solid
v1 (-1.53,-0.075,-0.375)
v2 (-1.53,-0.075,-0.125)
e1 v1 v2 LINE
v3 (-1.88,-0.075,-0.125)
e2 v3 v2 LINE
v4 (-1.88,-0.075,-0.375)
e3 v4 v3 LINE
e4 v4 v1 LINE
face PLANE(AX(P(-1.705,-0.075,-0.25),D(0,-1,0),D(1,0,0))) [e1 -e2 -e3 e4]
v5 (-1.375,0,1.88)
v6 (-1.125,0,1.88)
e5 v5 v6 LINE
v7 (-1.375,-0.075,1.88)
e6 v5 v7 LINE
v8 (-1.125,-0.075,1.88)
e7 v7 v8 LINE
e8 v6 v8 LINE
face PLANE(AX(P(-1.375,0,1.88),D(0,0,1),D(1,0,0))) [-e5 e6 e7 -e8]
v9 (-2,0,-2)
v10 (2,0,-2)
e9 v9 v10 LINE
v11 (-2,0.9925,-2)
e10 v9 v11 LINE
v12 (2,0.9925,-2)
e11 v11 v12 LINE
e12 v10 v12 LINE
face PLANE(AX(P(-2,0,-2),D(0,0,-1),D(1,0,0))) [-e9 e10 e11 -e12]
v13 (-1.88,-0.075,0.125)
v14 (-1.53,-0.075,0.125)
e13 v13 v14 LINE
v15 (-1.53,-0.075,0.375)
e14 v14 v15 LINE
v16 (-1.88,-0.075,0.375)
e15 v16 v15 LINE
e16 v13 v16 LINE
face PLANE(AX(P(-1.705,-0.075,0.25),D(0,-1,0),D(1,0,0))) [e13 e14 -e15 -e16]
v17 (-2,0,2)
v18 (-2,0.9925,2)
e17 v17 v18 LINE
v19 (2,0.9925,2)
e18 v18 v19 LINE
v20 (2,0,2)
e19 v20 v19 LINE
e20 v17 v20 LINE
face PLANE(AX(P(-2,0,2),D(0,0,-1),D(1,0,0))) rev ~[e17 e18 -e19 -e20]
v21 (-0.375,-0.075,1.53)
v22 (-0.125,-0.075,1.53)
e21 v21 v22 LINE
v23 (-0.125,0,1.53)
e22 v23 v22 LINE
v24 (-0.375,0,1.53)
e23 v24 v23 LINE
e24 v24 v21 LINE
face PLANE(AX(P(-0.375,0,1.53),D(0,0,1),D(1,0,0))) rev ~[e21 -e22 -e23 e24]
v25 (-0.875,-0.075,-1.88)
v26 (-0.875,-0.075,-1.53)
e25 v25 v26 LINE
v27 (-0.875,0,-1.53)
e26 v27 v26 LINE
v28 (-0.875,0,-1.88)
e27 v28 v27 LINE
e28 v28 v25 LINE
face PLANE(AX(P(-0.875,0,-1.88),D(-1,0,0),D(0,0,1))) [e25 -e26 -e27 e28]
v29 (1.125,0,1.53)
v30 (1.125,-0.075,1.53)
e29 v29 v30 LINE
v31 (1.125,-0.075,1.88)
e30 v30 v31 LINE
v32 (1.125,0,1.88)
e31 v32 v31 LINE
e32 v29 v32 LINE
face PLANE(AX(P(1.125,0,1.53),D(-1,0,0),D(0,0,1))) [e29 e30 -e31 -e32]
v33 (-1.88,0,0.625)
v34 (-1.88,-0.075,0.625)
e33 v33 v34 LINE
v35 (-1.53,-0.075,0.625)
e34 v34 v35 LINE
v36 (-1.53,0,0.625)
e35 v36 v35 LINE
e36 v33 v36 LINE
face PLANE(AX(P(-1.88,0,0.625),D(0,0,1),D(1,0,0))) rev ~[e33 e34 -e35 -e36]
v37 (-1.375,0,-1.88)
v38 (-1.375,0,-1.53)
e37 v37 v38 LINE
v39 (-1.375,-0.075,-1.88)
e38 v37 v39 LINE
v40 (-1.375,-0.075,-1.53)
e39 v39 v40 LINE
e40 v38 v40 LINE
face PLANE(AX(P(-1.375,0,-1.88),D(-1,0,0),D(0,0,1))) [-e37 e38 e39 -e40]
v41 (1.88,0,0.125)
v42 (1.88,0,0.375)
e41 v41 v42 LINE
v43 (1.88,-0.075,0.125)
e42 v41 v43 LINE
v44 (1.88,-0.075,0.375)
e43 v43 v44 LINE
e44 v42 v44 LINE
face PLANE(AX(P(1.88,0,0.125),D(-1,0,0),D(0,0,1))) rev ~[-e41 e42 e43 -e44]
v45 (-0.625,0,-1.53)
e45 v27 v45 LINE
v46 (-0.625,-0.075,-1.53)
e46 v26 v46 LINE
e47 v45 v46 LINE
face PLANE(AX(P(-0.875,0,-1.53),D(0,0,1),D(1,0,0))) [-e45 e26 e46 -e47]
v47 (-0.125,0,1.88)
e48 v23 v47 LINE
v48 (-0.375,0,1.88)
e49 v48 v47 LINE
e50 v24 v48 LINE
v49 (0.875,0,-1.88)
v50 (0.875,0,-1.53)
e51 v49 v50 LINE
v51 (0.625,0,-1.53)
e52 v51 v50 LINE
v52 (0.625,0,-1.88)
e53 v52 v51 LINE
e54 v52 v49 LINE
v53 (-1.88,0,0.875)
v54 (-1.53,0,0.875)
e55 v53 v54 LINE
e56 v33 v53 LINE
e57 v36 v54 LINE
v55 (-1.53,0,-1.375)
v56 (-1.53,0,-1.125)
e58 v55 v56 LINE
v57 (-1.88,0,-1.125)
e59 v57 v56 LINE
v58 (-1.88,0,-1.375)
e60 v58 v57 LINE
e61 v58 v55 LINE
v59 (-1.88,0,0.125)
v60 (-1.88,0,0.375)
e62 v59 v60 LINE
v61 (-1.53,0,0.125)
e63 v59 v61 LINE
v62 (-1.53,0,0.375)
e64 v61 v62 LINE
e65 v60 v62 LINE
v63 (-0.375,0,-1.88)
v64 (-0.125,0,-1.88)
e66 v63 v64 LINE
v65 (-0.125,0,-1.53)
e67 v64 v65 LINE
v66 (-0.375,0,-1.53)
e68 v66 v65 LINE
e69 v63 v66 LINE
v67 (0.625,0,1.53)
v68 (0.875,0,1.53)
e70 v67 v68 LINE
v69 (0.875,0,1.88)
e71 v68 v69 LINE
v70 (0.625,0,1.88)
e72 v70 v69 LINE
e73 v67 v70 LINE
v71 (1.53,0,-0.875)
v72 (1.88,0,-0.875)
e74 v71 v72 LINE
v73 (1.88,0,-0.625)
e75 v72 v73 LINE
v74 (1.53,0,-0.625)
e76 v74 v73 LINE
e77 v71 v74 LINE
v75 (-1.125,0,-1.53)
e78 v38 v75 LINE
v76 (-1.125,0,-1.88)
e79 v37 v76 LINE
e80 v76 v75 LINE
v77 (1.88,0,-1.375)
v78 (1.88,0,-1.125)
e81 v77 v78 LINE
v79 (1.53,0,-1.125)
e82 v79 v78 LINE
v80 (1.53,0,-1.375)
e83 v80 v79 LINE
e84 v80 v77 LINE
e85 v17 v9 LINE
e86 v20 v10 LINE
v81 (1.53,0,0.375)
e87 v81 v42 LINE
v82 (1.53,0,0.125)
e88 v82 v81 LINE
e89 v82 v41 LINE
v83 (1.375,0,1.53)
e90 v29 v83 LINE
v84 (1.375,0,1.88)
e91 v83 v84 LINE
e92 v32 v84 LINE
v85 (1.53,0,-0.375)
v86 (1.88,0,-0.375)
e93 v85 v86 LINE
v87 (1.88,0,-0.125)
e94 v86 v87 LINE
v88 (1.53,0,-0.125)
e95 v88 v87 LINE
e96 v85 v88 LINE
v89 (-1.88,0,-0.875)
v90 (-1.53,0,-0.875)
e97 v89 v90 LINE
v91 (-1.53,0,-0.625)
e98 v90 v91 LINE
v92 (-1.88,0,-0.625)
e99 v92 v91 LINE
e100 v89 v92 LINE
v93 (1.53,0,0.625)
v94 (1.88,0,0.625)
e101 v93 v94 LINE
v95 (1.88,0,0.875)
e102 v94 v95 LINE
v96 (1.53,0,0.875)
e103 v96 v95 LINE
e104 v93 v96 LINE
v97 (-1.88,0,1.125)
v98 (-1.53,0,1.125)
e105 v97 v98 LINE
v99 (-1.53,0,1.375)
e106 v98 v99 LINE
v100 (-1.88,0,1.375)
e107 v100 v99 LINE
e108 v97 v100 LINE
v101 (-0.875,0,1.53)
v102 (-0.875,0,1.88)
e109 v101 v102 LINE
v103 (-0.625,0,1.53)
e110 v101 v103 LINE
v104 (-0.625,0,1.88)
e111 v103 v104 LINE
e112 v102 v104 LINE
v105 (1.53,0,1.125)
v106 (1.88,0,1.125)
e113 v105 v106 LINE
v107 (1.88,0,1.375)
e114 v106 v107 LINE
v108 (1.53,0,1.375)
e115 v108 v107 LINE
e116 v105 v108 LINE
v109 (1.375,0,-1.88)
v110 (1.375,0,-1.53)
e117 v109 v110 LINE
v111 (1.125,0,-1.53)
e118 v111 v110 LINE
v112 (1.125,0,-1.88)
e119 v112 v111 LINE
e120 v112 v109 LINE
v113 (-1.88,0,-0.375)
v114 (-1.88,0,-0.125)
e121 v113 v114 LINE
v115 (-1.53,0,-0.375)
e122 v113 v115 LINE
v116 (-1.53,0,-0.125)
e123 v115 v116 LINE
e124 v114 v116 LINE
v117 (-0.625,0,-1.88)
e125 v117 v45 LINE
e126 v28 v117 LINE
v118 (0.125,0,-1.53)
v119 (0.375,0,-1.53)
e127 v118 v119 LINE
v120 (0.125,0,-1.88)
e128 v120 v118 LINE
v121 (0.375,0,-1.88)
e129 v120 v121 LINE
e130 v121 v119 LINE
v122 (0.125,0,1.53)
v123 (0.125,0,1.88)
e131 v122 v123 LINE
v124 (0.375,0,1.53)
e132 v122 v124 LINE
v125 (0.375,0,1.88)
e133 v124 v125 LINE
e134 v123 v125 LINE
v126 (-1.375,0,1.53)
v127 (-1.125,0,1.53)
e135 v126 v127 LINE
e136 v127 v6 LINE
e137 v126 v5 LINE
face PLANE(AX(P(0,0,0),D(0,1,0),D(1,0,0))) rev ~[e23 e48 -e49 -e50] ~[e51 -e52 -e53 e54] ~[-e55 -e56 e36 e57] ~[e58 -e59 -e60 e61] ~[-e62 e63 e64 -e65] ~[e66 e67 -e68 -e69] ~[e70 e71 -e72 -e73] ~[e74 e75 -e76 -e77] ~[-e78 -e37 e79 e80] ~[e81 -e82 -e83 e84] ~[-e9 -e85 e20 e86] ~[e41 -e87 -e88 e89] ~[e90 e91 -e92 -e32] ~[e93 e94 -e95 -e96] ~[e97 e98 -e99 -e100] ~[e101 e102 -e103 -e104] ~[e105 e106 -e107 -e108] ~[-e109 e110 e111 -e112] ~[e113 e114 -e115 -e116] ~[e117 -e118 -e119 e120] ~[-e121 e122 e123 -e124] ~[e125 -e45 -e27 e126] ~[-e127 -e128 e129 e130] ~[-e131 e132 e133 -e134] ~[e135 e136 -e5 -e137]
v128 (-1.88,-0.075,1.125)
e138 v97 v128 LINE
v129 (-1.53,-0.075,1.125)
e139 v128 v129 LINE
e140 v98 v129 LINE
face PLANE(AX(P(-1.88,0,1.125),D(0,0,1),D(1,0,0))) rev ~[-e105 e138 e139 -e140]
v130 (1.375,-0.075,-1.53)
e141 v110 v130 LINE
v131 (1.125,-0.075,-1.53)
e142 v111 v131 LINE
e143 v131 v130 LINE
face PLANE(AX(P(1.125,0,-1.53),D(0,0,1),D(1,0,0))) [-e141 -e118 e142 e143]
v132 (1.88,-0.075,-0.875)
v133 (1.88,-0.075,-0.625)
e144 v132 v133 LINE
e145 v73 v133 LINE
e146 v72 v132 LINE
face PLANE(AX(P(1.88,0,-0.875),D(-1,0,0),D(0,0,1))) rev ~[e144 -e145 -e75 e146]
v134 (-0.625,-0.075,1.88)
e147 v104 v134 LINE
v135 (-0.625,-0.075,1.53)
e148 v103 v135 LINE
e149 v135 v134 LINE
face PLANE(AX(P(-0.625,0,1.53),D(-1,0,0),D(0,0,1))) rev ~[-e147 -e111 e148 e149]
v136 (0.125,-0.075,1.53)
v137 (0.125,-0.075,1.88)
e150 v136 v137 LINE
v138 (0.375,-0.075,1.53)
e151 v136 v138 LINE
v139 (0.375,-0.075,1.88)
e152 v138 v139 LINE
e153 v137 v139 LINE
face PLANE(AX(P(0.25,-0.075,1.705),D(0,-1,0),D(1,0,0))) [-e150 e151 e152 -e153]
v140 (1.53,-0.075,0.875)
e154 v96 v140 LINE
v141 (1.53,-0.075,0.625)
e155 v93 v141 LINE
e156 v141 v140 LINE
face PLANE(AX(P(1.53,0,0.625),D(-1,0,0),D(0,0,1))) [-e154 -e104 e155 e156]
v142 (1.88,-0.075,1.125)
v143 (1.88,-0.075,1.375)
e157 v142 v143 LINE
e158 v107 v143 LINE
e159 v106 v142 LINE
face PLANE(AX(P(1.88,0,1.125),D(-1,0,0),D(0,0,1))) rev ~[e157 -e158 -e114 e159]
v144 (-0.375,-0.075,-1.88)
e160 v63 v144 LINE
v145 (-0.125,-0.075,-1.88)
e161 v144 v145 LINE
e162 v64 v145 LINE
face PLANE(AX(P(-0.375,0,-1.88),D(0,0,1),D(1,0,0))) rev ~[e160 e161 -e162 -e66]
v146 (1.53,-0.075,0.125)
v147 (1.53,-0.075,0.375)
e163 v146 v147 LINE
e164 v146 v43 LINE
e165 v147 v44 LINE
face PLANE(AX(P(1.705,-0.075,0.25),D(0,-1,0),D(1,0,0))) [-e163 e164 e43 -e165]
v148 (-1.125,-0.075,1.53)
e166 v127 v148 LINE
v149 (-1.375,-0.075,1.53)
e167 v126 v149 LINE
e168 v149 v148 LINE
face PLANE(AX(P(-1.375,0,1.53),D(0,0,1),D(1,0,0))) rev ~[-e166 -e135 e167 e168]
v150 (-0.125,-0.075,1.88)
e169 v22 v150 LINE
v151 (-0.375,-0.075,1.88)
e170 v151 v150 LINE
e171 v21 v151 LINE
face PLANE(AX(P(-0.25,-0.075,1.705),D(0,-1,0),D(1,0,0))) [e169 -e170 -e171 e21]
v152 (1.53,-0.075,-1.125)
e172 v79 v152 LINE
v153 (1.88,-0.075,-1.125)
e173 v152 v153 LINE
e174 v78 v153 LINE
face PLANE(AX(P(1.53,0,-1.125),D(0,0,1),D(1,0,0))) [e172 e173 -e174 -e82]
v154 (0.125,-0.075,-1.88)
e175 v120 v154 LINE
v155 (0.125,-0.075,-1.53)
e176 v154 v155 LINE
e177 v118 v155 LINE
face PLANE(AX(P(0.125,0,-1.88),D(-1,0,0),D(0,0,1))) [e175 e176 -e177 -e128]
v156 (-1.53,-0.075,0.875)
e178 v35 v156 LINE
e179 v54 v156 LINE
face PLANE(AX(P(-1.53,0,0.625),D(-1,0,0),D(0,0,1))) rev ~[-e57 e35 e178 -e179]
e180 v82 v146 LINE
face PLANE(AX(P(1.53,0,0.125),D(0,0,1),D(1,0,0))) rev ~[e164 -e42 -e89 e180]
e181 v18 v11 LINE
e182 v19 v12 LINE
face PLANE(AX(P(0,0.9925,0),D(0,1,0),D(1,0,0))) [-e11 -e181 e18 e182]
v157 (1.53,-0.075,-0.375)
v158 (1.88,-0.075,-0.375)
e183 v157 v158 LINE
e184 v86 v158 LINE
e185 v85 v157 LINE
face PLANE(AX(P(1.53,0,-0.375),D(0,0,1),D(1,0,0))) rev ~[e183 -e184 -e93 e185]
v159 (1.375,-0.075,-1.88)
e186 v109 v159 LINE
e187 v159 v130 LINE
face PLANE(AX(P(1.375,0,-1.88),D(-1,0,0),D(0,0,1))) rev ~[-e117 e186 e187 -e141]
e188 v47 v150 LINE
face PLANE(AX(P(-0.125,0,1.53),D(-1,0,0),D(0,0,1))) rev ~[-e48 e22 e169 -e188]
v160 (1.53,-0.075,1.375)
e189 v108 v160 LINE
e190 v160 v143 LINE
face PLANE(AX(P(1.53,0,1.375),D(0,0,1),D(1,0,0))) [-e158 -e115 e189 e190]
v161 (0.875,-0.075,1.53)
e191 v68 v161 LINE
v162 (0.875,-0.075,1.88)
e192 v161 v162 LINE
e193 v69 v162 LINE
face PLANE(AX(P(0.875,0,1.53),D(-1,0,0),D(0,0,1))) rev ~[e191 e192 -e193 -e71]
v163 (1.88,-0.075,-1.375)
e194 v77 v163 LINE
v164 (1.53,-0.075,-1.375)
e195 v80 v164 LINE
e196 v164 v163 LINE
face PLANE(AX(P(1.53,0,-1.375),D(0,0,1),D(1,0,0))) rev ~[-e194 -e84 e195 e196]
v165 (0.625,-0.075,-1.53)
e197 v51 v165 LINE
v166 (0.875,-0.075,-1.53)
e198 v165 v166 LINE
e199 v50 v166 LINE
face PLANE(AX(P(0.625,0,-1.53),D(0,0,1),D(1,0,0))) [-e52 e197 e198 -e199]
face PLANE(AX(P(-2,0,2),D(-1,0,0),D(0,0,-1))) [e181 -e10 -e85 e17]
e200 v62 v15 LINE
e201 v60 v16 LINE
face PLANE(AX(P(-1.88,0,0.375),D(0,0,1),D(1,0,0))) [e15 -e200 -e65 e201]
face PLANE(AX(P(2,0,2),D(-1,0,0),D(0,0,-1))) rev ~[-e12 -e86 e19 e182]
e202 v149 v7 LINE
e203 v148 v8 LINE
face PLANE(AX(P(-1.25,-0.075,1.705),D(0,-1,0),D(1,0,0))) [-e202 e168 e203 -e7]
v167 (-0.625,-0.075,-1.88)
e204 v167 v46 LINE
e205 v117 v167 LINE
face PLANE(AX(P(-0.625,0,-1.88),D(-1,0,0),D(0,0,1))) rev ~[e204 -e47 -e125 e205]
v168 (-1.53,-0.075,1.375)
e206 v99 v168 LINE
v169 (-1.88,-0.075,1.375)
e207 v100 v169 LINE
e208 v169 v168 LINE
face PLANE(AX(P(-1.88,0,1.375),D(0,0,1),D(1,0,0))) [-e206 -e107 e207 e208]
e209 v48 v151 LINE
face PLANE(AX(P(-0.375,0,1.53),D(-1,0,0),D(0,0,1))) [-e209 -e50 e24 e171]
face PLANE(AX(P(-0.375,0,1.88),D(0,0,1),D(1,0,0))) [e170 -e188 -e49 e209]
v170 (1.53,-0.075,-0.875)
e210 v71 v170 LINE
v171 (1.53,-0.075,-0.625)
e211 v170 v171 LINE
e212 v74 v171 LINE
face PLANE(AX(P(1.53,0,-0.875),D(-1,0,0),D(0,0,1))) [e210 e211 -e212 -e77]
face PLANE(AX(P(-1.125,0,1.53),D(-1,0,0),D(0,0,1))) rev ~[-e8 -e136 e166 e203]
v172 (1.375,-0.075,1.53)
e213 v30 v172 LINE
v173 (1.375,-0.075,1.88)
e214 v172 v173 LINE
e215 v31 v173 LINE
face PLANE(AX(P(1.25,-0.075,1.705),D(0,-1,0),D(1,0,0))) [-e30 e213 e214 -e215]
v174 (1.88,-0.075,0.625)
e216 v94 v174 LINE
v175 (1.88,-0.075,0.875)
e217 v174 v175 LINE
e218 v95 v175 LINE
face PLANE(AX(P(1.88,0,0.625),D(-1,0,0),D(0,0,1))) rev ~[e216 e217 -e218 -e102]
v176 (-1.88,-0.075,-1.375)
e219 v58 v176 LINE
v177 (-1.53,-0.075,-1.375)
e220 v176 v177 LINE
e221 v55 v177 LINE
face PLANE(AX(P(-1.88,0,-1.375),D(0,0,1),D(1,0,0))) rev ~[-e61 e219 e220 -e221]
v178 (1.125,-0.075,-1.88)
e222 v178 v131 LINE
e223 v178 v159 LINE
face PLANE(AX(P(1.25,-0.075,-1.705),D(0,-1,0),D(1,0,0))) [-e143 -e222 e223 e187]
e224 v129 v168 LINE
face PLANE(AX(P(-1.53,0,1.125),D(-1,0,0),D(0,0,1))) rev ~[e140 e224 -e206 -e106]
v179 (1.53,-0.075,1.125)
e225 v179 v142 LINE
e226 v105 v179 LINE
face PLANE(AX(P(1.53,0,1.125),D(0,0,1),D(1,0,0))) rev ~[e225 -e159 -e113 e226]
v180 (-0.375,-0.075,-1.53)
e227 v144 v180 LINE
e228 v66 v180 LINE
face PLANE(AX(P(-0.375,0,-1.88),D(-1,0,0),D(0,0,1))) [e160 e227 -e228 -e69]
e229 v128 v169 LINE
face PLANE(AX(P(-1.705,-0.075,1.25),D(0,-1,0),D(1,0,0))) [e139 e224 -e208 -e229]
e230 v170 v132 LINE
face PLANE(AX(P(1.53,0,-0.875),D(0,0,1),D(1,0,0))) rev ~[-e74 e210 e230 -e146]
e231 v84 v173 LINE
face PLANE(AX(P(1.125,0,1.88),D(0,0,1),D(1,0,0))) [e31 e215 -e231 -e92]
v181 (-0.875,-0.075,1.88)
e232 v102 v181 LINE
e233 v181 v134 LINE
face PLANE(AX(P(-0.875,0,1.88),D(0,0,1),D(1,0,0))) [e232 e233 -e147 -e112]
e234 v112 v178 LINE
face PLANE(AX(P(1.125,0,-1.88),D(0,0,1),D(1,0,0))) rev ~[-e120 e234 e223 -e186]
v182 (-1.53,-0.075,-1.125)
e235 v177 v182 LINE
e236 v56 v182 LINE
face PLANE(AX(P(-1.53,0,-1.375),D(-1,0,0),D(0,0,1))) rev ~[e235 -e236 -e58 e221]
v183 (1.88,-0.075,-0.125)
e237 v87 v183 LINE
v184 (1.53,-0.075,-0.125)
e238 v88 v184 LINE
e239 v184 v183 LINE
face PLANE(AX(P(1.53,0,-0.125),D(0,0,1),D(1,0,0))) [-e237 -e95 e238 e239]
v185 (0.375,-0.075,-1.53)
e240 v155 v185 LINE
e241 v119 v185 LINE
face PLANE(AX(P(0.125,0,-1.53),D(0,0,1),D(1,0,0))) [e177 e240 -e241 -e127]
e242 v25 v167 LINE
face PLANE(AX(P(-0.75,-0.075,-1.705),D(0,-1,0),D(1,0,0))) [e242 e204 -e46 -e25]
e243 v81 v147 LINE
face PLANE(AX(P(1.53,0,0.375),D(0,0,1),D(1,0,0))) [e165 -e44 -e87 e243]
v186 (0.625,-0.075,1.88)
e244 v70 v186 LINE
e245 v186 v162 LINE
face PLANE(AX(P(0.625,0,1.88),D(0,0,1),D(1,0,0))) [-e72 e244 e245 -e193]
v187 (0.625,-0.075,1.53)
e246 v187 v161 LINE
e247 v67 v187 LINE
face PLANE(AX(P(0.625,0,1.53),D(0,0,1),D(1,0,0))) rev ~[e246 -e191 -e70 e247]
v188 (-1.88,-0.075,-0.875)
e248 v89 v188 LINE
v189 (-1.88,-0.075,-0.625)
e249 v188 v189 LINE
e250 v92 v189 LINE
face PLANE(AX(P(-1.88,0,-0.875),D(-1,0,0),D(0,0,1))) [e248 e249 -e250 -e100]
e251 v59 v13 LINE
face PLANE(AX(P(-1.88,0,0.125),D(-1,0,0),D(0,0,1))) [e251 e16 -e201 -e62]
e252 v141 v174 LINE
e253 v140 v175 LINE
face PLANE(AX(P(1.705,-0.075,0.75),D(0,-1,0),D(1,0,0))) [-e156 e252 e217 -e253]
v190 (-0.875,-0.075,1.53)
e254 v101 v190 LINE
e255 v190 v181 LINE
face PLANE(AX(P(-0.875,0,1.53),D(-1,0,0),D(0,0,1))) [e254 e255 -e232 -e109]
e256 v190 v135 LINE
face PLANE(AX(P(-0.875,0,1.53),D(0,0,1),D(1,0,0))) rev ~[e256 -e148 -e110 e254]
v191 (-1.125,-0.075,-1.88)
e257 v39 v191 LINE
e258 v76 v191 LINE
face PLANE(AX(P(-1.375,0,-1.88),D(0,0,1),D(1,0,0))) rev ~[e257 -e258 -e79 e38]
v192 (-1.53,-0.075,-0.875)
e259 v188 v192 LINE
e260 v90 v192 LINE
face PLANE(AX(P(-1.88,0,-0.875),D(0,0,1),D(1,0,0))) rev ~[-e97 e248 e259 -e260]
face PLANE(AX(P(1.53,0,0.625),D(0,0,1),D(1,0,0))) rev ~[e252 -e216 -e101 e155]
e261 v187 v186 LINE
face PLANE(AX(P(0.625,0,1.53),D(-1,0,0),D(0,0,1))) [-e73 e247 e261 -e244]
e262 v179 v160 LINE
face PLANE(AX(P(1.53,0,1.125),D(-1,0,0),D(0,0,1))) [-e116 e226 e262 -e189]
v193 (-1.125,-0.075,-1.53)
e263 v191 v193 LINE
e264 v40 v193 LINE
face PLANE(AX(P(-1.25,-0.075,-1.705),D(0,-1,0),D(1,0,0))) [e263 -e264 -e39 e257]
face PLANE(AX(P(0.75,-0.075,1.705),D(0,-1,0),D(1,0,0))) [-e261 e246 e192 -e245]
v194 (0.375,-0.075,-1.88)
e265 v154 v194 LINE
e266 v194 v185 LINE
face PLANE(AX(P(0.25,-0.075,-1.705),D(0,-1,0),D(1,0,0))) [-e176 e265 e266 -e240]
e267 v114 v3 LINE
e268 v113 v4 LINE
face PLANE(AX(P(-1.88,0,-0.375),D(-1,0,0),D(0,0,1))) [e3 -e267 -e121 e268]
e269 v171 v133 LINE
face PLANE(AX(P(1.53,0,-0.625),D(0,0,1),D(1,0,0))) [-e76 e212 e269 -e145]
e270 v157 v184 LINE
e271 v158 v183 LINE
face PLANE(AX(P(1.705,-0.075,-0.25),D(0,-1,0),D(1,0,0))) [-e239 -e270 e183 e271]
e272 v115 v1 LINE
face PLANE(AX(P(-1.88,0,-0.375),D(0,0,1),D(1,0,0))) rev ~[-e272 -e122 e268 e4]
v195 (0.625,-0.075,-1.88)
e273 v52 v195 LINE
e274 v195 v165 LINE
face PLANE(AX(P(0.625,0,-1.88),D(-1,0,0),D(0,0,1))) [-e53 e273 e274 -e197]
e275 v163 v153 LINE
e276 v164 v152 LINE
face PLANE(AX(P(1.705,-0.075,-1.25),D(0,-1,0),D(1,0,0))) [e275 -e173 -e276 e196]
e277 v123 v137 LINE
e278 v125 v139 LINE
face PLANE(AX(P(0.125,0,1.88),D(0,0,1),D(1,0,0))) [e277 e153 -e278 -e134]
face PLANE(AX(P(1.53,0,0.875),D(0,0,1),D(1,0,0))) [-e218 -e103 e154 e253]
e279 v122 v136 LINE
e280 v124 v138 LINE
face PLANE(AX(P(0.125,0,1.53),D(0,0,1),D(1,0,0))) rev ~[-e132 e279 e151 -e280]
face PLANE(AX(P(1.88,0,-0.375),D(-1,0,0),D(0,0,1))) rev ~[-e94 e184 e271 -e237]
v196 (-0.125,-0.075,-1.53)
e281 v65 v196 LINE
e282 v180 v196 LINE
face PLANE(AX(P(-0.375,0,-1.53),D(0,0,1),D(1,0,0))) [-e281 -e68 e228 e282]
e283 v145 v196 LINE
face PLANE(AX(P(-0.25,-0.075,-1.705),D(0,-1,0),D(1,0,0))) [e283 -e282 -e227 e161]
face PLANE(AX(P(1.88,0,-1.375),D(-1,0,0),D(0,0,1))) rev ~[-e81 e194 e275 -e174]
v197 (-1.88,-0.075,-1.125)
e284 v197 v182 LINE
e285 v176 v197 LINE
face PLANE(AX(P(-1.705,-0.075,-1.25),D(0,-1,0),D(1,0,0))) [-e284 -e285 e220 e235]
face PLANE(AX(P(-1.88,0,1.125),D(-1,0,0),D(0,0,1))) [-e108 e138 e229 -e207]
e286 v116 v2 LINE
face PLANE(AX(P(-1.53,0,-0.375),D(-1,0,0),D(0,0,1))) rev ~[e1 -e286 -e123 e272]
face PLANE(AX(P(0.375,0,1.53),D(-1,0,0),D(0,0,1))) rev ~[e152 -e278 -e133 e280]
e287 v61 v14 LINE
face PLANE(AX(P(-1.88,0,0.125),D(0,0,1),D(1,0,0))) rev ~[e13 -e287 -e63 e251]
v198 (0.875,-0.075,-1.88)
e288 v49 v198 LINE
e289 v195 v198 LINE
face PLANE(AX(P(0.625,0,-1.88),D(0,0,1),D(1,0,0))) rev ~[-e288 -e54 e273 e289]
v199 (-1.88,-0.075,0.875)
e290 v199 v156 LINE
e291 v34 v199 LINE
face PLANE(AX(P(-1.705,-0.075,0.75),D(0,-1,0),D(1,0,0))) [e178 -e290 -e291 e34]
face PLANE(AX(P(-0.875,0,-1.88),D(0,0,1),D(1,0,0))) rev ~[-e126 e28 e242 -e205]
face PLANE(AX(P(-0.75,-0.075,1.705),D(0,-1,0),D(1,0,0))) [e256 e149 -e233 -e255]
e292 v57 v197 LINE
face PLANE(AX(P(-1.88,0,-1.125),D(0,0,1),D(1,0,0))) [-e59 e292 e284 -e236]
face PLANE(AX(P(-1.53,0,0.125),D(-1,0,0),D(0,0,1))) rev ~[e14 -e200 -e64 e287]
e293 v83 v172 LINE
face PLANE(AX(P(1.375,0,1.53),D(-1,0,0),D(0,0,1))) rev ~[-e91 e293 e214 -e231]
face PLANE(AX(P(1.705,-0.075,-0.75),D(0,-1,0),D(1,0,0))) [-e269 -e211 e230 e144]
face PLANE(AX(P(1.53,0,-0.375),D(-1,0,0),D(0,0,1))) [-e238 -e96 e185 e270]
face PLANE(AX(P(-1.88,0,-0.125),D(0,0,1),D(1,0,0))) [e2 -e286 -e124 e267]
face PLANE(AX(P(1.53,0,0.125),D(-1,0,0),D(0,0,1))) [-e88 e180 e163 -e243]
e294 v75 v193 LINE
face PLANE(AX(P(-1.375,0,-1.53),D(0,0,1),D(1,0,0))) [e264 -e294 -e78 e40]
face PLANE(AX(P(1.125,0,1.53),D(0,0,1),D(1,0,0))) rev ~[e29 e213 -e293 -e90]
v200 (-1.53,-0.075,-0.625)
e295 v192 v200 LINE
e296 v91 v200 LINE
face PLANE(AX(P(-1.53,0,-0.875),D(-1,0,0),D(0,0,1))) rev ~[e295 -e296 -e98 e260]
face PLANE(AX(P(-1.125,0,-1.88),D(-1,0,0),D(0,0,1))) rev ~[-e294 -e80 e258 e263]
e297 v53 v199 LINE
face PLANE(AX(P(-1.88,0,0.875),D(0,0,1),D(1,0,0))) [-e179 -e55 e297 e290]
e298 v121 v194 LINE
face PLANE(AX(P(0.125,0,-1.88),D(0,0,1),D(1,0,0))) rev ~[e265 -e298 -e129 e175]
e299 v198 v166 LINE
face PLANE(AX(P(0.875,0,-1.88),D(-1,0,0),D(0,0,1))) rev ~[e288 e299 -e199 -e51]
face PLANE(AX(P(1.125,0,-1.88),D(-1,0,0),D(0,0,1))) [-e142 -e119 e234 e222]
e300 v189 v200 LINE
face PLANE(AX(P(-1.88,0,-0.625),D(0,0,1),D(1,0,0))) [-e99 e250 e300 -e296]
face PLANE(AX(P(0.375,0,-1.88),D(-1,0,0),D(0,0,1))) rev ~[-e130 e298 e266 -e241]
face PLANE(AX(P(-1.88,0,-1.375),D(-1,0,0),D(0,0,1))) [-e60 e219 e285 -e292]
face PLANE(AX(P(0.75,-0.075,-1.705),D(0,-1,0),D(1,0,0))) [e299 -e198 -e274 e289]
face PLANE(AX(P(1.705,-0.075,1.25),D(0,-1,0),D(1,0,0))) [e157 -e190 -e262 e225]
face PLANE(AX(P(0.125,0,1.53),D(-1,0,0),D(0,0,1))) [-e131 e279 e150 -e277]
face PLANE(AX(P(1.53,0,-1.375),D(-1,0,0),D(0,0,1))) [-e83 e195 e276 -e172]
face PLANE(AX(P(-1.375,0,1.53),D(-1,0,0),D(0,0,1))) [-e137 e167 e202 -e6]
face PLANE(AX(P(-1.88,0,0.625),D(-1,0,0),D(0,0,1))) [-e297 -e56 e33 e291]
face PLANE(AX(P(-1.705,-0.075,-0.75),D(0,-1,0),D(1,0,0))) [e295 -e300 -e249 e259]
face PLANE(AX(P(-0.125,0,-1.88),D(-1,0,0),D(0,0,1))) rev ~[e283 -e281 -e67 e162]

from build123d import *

# Parameters (mm, degrees)
SKETCH2_W           = 4
SKETCH2_H           = 4
BOSS_EXTRUDE1_DEPTH = 0.9925
SKETCH3_W           = 0.25
SKETCH3_H           = 0.35
SKETCH3_W_2         = 0.35
SKETCH3_H_2         = 0.25
BOSS_EXTRUDE2_DEPTH = 0.075


with BuildPart() as part:
    # Sketch2 → Boss-Extrude1 (new body)
    with BuildSketch(Plane(origin=(0, 0, 0), x_dir=(1, 0, 0), z_dir=(0, 1, 0))):
        Rectangle(SKETCH2_W, SKETCH2_H)
    extrude(amount=BOSS_EXTRUDE1_DEPTH)

    # Sketch3 → Boss-Extrude2 (add)
    with BuildSketch(Plane.XZ):
        with Locations((-0.75, 1.705)):
            Rectangle(SKETCH3_W, SKETCH3_H)
        with Locations((-0.25, 1.705)):
            Rectangle(SKETCH3_W, SKETCH3_H)
        with Locations((-1.25, 1.705)):
            Rectangle(SKETCH3_W, SKETCH3_H)
        with Locations((0.25, 1.705)):
            Rectangle(SKETCH3_W, SKETCH3_H)
        with Locations((0.75, 1.705)):
            Rectangle(SKETCH3_W, SKETCH3_H)
        with Locations((1.25, 1.705)):
            Rectangle(SKETCH3_W, SKETCH3_H)
        with Locations((1.25, -1.705)):
            Rectangle(SKETCH3_W, SKETCH3_H)
        with Locations((-1.705, 1.25)):
            Rectangle(SKETCH3_W_2, SKETCH3_H_2)
        with Locations((-1.705, 0.75)):
            Rectangle(SKETCH3_W_2, SKETCH3_H_2)
        with Locations((-1.705, 0.25)):
            Rectangle(SKETCH3_W_2, SKETCH3_H_2)
        with Locations((0.75, -1.705)):
            Rectangle(SKETCH3_W, SKETCH3_H)
        with Locations((0.25, -1.705)):
            Rectangle(SKETCH3_W, SKETCH3_H)
        with Locations((-1.25, -1.705)):
            Rectangle(SKETCH3_W, SKETCH3_H)
        with Locations((-0.75, -1.705)):
            Rectangle(SKETCH3_W, SKETCH3_H)
        with Locations((-0.25, -1.705)):
            Rectangle(SKETCH3_W, SKETCH3_H)
        with Locations((-1.705, -0.75)):
            Rectangle(SKETCH3_W_2, SKETCH3_H_2)
        with Locations((-1.705, -0.25)):
            Rectangle(SKETCH3_W_2, SKETCH3_H_2)
        with Locations((-1.705, -1.25)):
            Rectangle(SKETCH3_W_2, SKETCH3_H_2)
        with Locations((1.705, -1.25)):
            Rectangle(SKETCH3_W_2, SKETCH3_H_2)
        with Locations((1.705, -0.75)):
            Rectangle(SKETCH3_W_2, SKETCH3_H_2)
        with Locations((1.705, -0.25)):
            Rectangle(SKETCH3_W_2, SKETCH3_H_2)
        with Locations((1.705, 0.75)):
            Rectangle(SKETCH3_W_2, SKETCH3_H_2)
        with Locations((1.705, 0.25)):
            Rectangle(SKETCH3_W_2, SKETCH3_H_2)
        with Locations((1.705, 1.25)):
            Rectangle(SKETCH3_W_2, SKETCH3_H_2)
    extrude(amount=BOSS_EXTRUDE2_DEPTH)


solid = part.part
